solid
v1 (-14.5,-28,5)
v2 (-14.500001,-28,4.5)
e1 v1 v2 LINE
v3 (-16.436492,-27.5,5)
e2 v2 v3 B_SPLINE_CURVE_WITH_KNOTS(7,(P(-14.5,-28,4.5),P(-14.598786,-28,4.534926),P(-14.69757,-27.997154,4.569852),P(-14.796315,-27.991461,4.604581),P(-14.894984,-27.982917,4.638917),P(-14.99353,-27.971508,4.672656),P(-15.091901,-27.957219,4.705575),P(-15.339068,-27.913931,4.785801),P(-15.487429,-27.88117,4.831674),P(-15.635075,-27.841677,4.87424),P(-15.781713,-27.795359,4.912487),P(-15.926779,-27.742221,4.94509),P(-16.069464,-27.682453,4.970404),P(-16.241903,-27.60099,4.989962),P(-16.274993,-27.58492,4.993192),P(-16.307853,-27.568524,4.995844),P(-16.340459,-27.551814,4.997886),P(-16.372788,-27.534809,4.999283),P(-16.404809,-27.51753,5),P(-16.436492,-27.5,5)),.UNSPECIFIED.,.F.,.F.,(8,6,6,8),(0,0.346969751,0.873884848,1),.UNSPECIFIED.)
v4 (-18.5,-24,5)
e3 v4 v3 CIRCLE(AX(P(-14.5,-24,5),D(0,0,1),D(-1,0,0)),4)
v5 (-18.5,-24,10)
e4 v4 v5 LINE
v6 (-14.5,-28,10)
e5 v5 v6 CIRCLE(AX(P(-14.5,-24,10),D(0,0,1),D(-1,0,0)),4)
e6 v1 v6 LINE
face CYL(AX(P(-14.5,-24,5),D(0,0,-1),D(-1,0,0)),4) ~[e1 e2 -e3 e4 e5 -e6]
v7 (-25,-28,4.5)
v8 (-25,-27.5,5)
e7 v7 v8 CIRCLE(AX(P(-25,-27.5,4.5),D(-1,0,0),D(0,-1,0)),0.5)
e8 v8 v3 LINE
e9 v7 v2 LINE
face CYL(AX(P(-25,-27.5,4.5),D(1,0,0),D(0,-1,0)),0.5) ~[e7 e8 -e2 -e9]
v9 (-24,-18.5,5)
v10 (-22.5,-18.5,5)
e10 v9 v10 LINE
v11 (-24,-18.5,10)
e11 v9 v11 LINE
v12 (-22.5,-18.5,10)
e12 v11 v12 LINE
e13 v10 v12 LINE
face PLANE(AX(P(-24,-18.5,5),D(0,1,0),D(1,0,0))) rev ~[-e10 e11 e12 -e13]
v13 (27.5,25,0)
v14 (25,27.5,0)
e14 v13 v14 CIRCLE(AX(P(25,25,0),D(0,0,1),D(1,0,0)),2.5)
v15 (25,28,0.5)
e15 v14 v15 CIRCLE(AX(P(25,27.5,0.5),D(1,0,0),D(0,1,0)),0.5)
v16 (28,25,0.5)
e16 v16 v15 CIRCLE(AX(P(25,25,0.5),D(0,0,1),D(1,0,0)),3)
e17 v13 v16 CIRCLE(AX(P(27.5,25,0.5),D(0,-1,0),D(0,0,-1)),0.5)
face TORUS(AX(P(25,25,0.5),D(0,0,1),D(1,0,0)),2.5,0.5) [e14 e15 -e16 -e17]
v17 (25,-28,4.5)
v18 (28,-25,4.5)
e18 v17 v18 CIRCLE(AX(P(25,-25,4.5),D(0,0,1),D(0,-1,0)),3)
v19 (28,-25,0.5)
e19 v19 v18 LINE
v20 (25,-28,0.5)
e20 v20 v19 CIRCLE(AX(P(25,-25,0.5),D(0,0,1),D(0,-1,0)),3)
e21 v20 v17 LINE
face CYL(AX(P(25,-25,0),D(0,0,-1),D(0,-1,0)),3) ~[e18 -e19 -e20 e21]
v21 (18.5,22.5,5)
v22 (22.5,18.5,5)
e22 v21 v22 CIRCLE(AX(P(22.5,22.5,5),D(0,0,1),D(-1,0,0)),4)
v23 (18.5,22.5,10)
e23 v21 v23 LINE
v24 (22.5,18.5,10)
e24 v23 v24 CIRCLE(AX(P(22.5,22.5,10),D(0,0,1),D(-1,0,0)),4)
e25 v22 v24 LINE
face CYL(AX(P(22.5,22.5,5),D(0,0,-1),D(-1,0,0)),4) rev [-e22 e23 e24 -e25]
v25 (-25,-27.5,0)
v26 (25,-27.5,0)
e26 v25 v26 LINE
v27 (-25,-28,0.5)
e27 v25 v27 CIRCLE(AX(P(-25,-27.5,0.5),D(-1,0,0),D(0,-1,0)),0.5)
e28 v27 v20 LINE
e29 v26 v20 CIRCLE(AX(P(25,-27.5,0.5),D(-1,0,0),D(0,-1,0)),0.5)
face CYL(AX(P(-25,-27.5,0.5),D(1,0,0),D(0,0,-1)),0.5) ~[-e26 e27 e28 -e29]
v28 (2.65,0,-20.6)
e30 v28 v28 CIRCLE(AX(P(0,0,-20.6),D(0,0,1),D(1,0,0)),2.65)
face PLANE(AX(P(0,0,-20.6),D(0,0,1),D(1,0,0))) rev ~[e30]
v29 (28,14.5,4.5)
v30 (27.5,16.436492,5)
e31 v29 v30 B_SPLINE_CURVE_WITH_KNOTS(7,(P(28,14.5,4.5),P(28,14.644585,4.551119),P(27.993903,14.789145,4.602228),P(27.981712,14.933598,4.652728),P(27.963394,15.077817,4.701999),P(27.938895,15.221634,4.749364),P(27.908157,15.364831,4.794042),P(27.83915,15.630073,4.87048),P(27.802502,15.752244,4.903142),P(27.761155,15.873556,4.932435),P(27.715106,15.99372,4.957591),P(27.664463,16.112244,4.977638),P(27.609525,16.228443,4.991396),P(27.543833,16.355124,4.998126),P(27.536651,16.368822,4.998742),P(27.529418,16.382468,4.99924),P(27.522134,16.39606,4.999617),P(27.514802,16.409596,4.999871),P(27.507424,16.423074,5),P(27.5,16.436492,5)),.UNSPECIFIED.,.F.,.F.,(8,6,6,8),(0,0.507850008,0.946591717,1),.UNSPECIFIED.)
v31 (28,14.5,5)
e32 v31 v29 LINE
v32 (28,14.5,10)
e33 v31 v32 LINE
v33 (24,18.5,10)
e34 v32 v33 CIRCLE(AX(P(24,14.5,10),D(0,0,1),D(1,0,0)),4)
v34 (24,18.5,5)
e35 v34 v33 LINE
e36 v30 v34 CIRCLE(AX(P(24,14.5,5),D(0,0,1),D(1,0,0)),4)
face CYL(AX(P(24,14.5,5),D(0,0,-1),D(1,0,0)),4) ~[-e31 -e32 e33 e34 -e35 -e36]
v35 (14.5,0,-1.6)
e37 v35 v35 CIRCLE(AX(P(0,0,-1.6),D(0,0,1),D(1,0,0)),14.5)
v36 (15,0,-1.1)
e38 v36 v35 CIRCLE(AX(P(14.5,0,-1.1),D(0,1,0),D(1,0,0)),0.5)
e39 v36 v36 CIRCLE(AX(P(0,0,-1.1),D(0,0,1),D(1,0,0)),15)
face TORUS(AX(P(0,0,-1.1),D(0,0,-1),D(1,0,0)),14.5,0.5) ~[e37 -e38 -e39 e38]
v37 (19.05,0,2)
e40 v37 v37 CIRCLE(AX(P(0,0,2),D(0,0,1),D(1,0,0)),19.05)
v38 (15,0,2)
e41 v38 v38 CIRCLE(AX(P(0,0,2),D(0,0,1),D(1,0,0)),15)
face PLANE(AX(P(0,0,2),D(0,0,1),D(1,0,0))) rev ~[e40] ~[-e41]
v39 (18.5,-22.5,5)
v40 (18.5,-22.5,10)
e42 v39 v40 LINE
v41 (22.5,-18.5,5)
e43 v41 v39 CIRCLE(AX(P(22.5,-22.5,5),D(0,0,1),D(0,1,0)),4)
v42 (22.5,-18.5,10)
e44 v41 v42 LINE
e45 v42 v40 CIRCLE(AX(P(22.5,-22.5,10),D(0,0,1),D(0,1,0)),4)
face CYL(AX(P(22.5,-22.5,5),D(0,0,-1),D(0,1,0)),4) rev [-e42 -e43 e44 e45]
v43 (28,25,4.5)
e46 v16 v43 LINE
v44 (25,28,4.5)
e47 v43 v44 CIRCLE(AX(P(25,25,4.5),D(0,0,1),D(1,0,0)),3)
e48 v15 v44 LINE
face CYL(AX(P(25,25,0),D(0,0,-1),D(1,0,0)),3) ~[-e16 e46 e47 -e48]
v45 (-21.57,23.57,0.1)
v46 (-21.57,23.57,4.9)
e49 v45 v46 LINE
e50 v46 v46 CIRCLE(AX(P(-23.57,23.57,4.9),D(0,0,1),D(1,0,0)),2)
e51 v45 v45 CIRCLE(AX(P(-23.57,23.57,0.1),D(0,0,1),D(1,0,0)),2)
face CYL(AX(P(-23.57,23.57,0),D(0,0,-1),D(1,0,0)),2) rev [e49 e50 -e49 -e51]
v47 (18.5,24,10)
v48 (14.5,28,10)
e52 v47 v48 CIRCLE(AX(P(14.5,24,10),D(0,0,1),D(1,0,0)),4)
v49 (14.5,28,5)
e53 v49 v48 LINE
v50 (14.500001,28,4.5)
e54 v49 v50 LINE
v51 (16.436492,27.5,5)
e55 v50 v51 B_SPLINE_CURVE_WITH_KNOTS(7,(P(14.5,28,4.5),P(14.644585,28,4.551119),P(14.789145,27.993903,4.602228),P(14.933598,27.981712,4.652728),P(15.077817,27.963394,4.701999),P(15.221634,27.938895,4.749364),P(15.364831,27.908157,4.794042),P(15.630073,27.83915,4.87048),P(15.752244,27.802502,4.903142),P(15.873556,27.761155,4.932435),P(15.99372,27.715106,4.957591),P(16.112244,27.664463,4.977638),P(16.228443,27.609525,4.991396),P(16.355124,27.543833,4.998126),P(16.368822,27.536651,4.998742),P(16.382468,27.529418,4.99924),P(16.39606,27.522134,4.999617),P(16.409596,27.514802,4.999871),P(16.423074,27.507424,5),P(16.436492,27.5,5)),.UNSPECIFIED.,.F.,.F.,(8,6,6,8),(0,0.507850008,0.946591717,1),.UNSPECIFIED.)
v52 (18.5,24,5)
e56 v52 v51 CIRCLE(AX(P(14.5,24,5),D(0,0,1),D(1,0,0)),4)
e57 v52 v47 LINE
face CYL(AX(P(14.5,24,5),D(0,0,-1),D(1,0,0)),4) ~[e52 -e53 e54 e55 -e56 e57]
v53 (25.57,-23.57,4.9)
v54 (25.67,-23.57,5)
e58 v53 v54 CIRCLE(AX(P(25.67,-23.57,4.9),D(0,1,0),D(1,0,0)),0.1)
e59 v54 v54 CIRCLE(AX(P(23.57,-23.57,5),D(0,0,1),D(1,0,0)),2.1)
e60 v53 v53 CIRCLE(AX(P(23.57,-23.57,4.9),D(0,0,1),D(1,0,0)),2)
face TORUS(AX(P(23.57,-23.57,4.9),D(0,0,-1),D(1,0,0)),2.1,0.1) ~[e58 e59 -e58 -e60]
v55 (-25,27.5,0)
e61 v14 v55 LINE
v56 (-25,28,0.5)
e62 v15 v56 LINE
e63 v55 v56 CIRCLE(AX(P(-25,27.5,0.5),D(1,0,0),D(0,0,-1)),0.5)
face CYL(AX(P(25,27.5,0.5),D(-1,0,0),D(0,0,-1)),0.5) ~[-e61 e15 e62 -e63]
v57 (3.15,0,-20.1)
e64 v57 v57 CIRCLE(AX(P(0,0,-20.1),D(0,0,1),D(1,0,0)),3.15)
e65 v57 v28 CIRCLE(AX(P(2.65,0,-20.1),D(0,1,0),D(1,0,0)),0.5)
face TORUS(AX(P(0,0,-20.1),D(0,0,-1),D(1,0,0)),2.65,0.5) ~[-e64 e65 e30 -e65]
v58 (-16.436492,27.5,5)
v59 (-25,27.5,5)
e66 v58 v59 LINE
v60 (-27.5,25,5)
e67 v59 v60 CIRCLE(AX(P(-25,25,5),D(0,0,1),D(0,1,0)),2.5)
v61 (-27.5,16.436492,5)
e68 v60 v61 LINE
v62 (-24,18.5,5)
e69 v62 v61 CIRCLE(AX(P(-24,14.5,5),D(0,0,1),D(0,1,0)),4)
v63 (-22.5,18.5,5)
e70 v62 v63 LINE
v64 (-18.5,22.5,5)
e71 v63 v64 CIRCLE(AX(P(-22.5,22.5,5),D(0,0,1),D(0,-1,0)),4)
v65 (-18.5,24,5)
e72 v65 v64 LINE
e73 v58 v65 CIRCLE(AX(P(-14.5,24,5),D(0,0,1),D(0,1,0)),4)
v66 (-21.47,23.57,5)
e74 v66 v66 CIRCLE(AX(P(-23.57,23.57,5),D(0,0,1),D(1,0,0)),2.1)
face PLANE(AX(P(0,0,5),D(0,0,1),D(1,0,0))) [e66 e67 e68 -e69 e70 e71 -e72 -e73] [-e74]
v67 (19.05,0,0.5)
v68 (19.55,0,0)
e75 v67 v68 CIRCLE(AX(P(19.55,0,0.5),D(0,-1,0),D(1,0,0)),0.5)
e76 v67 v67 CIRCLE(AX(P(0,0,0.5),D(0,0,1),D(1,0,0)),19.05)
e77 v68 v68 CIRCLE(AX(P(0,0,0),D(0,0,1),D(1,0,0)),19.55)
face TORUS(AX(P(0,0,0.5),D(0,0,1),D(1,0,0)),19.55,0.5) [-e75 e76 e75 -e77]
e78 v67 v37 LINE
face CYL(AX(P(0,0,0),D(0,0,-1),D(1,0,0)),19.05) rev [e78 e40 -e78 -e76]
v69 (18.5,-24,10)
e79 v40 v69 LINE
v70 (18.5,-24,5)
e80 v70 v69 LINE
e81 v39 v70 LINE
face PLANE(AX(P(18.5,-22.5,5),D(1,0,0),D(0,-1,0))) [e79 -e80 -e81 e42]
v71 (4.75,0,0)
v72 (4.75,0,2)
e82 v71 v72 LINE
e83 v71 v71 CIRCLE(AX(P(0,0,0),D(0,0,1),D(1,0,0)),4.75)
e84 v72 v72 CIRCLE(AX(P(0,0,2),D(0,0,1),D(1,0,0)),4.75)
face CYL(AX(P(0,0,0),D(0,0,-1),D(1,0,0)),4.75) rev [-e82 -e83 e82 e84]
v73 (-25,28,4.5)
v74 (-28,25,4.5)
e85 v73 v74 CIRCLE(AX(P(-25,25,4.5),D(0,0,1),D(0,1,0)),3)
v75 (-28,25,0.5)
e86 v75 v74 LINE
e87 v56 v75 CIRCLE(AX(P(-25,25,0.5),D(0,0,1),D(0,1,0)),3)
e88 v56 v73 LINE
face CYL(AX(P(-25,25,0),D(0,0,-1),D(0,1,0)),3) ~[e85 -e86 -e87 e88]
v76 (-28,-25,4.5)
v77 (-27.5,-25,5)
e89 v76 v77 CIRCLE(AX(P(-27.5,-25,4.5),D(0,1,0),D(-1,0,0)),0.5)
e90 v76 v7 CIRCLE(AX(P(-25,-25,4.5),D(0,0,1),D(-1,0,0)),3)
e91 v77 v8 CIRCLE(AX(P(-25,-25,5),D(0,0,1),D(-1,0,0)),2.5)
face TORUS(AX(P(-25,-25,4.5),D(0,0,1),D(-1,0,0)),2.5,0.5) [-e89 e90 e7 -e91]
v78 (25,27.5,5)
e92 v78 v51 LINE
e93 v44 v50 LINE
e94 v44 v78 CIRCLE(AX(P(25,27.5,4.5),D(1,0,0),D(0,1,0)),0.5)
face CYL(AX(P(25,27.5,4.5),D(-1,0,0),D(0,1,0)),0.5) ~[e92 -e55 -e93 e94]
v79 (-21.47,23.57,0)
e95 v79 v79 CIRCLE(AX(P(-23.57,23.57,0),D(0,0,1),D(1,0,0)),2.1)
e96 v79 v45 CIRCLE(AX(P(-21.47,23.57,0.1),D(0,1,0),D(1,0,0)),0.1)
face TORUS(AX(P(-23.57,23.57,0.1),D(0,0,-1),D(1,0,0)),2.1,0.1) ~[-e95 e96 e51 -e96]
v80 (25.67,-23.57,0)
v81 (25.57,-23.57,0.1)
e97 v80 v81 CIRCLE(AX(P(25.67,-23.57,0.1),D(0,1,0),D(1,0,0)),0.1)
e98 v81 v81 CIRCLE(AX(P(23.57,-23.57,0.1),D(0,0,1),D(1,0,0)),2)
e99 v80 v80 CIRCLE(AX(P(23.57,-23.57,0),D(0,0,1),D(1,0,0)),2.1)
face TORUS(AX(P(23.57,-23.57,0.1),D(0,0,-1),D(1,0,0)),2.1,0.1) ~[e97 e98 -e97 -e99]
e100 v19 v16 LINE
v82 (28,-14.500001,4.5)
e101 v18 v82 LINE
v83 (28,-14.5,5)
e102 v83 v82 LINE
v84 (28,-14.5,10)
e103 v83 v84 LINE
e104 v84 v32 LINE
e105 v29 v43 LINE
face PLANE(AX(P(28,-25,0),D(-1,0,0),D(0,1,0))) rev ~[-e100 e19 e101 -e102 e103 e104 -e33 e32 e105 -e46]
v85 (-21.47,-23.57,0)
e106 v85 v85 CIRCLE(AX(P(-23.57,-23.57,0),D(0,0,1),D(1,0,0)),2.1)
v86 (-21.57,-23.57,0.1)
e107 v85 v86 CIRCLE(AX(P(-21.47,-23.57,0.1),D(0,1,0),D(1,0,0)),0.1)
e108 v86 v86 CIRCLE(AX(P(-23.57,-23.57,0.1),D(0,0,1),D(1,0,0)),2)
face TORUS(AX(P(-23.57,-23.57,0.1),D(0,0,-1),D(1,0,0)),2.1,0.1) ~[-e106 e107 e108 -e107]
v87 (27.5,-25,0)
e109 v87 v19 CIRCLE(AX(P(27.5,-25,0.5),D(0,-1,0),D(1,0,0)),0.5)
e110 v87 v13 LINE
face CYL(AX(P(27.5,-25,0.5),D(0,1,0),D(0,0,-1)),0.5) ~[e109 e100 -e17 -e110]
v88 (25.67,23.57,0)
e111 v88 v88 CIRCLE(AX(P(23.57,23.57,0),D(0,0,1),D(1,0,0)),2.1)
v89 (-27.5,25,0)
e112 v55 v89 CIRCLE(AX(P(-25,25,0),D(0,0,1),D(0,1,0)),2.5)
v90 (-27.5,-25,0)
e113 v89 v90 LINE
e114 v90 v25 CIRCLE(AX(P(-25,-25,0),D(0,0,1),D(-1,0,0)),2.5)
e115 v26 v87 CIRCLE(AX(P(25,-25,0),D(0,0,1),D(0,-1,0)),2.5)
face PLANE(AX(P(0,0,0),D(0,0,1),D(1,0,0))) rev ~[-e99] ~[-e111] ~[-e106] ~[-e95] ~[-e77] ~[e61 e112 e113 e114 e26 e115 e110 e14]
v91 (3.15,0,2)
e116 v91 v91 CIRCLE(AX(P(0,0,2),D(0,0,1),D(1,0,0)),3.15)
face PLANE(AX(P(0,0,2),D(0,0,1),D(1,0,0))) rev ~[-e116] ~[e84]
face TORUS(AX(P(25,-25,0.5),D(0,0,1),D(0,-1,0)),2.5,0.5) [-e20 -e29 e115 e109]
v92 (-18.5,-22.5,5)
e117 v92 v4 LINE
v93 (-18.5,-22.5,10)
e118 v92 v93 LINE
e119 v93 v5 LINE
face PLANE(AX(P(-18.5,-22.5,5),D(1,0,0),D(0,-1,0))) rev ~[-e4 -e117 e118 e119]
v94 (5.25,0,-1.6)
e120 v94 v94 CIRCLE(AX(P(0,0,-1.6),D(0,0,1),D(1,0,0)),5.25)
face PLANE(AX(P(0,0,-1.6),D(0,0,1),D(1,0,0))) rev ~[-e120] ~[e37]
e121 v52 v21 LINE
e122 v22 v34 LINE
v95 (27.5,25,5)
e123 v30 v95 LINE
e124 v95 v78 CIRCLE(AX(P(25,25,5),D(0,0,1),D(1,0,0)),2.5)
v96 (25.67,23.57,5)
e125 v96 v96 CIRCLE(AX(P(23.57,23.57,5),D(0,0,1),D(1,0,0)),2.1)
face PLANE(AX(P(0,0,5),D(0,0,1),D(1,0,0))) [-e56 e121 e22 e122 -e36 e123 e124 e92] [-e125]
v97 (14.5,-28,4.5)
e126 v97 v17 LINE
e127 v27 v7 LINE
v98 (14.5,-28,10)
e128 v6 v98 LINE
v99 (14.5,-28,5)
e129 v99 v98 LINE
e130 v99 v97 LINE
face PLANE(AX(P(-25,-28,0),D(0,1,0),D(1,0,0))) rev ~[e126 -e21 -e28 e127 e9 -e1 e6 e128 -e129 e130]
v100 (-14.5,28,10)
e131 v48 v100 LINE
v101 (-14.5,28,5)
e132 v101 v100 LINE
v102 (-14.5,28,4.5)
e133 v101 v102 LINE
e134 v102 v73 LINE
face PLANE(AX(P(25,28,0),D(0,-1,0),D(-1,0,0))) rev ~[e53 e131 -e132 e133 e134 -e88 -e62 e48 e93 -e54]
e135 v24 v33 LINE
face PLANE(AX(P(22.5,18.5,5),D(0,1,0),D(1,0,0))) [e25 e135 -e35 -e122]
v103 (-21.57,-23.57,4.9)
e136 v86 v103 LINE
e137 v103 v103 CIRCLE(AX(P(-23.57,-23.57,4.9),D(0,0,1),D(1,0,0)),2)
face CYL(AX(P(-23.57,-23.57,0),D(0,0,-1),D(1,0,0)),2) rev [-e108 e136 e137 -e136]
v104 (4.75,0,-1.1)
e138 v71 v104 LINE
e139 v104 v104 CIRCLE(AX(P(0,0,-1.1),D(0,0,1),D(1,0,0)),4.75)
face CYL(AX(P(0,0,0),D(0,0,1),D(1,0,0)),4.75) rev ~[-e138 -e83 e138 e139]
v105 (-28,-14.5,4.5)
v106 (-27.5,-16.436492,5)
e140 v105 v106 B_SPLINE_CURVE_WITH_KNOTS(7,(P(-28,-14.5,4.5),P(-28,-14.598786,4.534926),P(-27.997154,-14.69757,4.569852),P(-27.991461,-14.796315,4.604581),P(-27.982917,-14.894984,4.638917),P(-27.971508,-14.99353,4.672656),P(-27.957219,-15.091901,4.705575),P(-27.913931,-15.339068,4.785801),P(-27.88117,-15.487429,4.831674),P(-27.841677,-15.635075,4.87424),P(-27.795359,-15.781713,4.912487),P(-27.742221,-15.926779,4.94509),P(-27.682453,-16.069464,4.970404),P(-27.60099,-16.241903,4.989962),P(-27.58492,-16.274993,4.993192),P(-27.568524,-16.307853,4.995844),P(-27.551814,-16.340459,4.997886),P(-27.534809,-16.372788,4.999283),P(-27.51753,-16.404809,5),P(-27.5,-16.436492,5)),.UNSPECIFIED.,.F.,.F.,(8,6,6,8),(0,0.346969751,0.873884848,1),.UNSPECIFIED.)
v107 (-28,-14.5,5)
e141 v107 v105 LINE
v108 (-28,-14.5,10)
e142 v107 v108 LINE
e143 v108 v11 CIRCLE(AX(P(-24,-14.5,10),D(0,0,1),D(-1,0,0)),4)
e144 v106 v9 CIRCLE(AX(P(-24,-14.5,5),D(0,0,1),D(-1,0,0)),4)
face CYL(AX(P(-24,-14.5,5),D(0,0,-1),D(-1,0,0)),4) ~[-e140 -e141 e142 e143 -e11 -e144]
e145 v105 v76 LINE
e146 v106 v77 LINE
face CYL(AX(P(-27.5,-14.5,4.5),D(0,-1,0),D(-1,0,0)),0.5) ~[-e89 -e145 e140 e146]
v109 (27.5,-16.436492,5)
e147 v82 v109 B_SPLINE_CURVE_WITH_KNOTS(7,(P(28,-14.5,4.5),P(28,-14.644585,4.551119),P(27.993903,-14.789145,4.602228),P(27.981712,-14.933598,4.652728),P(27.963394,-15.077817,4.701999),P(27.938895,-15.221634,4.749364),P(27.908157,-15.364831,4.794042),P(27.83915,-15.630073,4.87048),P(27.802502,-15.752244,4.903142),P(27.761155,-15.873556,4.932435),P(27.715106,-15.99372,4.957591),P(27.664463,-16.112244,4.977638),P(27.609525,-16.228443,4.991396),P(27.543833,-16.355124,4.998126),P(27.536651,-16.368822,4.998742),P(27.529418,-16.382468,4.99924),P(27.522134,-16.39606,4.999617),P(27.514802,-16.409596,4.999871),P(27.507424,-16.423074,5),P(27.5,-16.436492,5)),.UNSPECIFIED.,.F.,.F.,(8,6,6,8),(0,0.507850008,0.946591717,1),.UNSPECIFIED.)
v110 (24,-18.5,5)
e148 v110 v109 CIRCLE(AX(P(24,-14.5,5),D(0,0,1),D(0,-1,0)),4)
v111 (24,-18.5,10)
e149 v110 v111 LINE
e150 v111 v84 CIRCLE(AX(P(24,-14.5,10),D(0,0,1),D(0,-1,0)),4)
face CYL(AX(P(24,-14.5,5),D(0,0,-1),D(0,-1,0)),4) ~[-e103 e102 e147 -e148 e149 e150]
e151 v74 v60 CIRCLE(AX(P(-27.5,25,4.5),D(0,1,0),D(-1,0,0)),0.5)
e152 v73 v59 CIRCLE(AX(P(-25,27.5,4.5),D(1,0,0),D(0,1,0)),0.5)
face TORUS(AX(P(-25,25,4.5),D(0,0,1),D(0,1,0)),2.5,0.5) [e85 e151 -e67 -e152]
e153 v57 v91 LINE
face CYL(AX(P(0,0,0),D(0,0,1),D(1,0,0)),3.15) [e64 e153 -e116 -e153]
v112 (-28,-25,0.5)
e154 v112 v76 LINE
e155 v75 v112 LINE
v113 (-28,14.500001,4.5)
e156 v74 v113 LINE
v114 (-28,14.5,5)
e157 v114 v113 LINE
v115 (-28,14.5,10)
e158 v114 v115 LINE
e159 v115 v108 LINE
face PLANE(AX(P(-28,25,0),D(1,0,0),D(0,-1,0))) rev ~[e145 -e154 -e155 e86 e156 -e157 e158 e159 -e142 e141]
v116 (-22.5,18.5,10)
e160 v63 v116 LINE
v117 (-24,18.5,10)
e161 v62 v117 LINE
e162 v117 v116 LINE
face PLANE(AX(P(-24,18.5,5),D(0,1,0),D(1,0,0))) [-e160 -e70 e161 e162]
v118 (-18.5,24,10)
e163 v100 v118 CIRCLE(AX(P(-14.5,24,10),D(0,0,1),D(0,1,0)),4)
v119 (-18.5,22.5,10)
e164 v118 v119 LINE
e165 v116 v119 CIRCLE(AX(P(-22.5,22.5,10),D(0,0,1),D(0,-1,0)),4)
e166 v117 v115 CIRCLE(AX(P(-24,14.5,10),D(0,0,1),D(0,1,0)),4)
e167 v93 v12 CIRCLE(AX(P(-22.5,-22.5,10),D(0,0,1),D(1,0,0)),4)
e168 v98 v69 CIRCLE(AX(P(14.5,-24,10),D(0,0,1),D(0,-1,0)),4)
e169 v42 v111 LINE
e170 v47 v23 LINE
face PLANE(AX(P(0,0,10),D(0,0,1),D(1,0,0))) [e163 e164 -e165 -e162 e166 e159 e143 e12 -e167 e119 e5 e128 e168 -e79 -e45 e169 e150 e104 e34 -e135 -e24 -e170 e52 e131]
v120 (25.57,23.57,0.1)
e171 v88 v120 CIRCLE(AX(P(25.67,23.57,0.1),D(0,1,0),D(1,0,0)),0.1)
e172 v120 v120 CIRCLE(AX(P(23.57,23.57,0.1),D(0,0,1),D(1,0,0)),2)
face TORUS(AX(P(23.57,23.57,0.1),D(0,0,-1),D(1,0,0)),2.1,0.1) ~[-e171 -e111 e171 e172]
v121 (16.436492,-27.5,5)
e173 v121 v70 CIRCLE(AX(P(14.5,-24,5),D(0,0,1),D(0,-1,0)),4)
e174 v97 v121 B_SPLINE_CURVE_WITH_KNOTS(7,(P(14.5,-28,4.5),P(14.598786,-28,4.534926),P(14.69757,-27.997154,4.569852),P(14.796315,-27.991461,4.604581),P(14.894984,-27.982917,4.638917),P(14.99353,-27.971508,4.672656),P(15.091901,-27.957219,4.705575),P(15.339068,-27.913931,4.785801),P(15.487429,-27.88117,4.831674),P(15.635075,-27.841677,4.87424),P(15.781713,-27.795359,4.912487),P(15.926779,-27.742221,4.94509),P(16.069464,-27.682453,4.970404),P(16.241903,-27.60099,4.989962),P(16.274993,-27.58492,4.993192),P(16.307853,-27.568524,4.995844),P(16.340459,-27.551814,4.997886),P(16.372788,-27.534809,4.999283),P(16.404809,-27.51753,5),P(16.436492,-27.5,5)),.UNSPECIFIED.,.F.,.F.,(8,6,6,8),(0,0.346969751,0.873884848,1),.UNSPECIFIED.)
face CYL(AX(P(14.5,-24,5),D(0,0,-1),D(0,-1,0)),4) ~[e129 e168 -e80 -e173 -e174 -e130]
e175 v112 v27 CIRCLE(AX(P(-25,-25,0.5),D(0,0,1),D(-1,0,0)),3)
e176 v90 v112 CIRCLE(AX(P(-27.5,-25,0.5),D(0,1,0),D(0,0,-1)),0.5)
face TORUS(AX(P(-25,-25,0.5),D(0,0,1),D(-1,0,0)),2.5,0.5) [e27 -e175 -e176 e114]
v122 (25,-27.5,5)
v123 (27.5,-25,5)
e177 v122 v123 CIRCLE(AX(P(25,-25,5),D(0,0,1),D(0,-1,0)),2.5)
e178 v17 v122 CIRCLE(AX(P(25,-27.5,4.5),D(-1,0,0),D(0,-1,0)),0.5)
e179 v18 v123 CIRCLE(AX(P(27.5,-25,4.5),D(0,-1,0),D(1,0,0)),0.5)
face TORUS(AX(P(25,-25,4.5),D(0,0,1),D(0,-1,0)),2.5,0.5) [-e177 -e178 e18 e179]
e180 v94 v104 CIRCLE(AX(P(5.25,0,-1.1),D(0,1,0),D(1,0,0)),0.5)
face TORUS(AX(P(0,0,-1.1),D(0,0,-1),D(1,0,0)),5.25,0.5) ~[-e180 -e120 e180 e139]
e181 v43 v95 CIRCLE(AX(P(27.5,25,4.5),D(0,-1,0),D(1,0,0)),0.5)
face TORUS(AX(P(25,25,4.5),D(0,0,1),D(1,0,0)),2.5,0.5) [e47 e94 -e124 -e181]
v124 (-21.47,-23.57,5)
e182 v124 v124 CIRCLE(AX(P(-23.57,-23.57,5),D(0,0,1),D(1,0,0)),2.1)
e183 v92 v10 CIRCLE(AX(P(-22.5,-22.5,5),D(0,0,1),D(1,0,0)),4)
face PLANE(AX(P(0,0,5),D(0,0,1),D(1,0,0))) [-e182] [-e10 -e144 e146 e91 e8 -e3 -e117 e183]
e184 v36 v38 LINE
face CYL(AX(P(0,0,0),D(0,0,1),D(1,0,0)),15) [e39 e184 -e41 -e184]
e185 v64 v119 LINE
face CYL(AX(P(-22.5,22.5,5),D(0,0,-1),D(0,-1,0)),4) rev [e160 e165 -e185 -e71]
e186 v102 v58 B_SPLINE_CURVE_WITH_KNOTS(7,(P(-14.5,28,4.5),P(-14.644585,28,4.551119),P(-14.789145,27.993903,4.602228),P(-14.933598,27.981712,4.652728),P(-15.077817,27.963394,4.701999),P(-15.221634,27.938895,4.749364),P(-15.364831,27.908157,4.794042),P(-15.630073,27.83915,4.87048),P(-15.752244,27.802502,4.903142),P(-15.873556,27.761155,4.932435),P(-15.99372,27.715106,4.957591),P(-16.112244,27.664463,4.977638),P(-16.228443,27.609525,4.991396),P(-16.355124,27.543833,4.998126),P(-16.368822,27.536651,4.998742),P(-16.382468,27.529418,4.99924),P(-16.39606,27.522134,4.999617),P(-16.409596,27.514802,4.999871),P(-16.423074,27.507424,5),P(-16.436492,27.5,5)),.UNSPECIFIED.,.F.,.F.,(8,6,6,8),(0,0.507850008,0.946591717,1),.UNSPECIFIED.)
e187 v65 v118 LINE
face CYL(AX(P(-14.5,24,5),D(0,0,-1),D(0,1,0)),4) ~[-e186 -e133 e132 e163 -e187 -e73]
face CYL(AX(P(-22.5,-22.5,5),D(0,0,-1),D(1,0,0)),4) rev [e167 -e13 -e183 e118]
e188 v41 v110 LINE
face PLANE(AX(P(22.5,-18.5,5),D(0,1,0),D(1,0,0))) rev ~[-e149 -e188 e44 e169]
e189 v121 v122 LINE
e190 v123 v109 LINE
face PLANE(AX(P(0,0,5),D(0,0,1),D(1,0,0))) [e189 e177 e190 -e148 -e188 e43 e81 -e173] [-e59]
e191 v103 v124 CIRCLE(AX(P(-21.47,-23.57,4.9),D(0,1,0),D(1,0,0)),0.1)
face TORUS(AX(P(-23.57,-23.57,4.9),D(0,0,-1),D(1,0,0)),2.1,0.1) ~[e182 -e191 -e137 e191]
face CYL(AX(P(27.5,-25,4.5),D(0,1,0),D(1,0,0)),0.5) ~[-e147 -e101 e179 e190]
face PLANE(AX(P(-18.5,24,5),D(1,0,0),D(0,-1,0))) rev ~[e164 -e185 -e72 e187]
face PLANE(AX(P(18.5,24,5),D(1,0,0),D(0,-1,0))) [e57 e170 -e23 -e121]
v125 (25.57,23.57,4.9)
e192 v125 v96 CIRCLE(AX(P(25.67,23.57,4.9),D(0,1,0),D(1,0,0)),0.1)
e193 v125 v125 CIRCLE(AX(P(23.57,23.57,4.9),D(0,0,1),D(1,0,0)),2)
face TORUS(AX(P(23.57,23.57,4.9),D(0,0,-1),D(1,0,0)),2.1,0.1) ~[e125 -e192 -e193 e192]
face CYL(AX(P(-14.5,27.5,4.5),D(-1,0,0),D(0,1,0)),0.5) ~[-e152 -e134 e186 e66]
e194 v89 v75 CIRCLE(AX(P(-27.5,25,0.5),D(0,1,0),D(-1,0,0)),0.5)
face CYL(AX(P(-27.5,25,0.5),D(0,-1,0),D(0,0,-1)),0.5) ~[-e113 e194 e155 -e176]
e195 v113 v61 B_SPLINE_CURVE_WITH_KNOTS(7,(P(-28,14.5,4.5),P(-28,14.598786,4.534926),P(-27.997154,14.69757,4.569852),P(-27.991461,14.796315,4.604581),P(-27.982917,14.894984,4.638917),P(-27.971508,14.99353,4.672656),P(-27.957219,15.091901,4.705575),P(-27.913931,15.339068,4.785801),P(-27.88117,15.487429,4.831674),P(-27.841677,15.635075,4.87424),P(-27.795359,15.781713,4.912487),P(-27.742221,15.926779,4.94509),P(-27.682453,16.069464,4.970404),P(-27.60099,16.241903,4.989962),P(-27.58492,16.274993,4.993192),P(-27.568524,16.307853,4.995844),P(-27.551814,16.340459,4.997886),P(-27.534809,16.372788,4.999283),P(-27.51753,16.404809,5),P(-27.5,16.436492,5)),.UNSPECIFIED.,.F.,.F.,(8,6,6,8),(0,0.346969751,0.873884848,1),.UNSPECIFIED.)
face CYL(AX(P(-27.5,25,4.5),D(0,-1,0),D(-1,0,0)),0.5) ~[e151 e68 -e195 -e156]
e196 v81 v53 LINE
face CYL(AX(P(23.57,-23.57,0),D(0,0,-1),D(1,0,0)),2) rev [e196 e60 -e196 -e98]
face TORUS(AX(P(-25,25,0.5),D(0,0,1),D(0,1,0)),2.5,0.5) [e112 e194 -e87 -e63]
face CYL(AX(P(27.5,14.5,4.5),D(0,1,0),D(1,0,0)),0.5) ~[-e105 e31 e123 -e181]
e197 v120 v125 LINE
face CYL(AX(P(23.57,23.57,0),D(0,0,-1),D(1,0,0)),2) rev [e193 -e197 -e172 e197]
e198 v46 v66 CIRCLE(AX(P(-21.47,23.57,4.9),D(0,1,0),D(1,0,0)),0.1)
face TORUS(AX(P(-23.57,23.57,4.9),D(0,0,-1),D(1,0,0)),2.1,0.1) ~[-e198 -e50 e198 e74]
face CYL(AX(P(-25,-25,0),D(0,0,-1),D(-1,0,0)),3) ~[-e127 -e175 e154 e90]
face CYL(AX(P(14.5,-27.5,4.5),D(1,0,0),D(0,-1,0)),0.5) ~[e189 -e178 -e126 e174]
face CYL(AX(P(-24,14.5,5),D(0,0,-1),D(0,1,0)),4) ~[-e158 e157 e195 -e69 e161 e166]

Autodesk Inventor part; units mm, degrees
ref_plane "YZ Plane" through (0, 0, 0) normal (1, 0, 0) x (0, 1, 0)
ref_plane "XZ Plane" through (0, 0, 0) normal (0, 1, 0) x (-1, 0, 0)
ref_plane "XY Plane" through (0, 0, 0) normal (0, 0, 1) x (1, 0, 0)
sketch "Sketch1" plane through (0, 0, 0) normal (0, 0, 1) x (1, 0, 0)
  line L0 (28, 0) -> (28, 25)
  line L1 (25, 28) -> (-25, 28)
  line L2 (-28, 25) -> (-28, -25)
  line L3 (-25, -28) -> (25, -28)
  line L4 (28, -25) -> (28, 0)
  circle A0 centre (23.57, 23.57) radius 2
  circle A1 centre (23.57, -23.57) radius 2
  circle A2 centre (-23.57, -23.57) radius 2
  circle A3 centre (-23.57, 23.57) radius 2
  circle A4 centre (0, 0) radius 4.75
  circle A5 centre (0, 0) radius 15
  circle A6 centre (0, 0) radius 19.05
  arc A7 (-25, 28) -> (-28, 25) centre (-25, 25) ccw
  arc A8 (-28, -25) -> (-25, -28) centre (-25, -25) ccw
  arc A9 (25, -28) -> (28, -25) centre (25, -25) ccw
  arc A10 (28, 25) -> (25, 28) centre (25, 25) ccw
  circle A11 centre (0, 0) radius 3.15
  point P0 (28, 28)
  point P1 (-28, 28)
  point P2 (-28, -28)
  point P3 (28, -28)
  dimension "d1" = 28
  dimension "d2" = 56
  dimension "d3" = 56
  dimension "d4" = 56
  dimension "d6" = 4
  dimension "d7" = 4
  dimension "d8" = 4
  dimension "d9" = 4
  dimension "d10" = 9.5
  dimension "d11" = 30
  dimension "d12" = 38.1
  dimension "d13" = 3
  dimension "d25" = 6.3
extrude "Extrusion1" add sketch "Sketch1" along normal blind 5 contours L4 A9 L3 A8 L2 A7 L1 A10 L0 | A4 | A5 | A6 | A11
extrude "Extrusion2" cut sketch "Sketch1" along normal blind 2 contours A4 | A6
sketch "Sketch2" plane through (0, 0, 5) normal (0, 0, 1) x (1, 0, 0)
  arc A0 (28, 25) -> (25, 28) centre (25, 25) ccw projected
  line L0 (25, 28) -> (-25, 28) projected
  arc A1 (-25, 28) -> (-28, 25) centre (-25, 25) ccw projected
  line L1 (-28, 25) -> (-28, -25) projected
  arc A2 (-28, -25) -> (-25, -28) centre (-25, -25) ccw projected
  line L2 (-25, -28) -> (25, -28) projected
  arc A3 (25, -28) -> (28, -25) centre (25, -25) ccw projected
  line L3 (28, -25) -> (28, 25) projected
  circle A4 centre (-23.57, 23.57) radius 2 projected
  circle A5 centre (-23.57, -23.57) radius 2 projected
  circle A6 centre (23.57, -23.57) radius 2 projected
  circle A7 centre (23.57, 23.57) radius 2 projected
  line L4 (-28, 0) -> (-28, 14.5)
  line L5 (-28, 25) -> (-28, -25) projected
  line L6 (-28, 0) -> (-28, -14.5)
  line L7 (25, 28) -> (-25, 28) projected
  line L8 (-25, -28) -> (25, -28) projected
  line L9 (-14.5, 28) -> (14.5, 28)
  line L10 (28, 14.5) -> (28, -14.5)
  line L11 (28, -25) -> (28, 25) projected
  line L12 (14.5, -28) -> (-14.5, -28)
  line L13 (-24, 18.5) -> (-22.5, 18.5)
  line L14 (22.5, 18.5) -> (24, 18.5)
  line L15 (-18.5, 24) -> (-18.5, 22.5)
  line L16 (-18.5, -22.5) -> (-18.5, -24)
  line L17 (18.5, 24) -> (18.5, 22.5)
  line L18 (18.5, -22.5) -> (18.5, -24)
  line L19 (-24, -18.5) -> (-22.5, -18.5)
  line L20 (22.5, -18.5) -> (24, -18.5)
  arc A8 (-14.5, 28) -> (-18.5, 24) centre (-14.5, 24) ccw
  arc A9 (-22.5, 18.5) -> (-18.5, 22.5) centre (-22.5, 22.5) ccw
  arc A10 (-24, 18.5) -> (-28, 14.5) centre (-24, 14.5) ccw
  arc A11 (-28, -14.5) -> (-24, -18.5) centre (-24, -14.5) ccw
  arc A12 (-18.5, -22.5) -> (-22.5, -18.5) centre (-22.5, -22.5) ccw
  arc A13 (-18.5, -24) -> (-14.5, -28) centre (-14.5, -24) ccw
  arc A14 (14.5, -28) -> (18.5, -24) centre (14.5, -24) ccw
  arc A15 (22.5, -18.5) -> (18.5, -22.5) centre (22.5, -22.5) ccw
  arc A16 (24, -18.5) -> (28, -14.5) centre (24, -14.5) ccw
  arc A17 (18.5, 24) -> (14.5, 28) centre (14.5, 24) ccw
  arc A18 (18.5, 22.5) -> (22.5, 18.5) centre (22.5, 22.5) ccw
  arc A19 (28, 14.5) -> (24, 18.5) centre (24, 14.5) ccw
  point P0 (0, 0)
  point P1 (-28, 18.5)
  point P2 (28, 18.5)
  point P3 (-28, -18.5)
  point P4 (28, -18.5)
  point P5 (18.5, 28)
  point P6 (18.5, -28)
  point P7 (-18.5, 28)
  point P8 (-18.5, -28)
  dimension "d18" = 18.5
  dimension "d19" = 18.5
  dimension "d22" = 4
extrude "Extrusion3" add sketch "Sketch2" along normal blind 5 contours L3 A16 L20 A15 L18 A14 L2 A13 L16 A12 L19 A11 L1 A10 L13 A9 L15 A8 L0 A17 L17 A18 L14 A19
extrude "Extrusion4" add sketch "Sketch1" against normal blind 20.6 contours A11
sketch "Sketch3" plane through (0, 0, 10) normal (0, 0, 1) x (1, 0, 0)
  arc A0 (-24, 18.5) -> (-28, 14.5) centre (-24, 14.5) ccw projected
  line L0 (-28, 14.5) -> (-28, -14.5) projected
  arc A1 (-28, -14.5) -> (-24, -18.5) centre (-24, -14.5) ccw projected
  line L1 (-24, -18.5) -> (-22.5, -18.5) projected
  arc A2 (-18.5, -22.5) -> (-22.5, -18.5) centre (-22.5, -22.5) ccw projected
  line L2 (-18.5, -22.5) -> (-18.5, -24) projected
  arc A3 (-18.5, -24) -> (-14.5, -28) centre (-14.5, -24) ccw projected
  line L3 (-14.5, -28) -> (14.5, -28) projected
  arc A4 (14.5, -28) -> (18.5, -24) centre (14.5, -24) ccw projected
  line L4 (18.5, -24) -> (18.5, -22.5) projected
  arc A5 (22.5, -18.5) -> (18.5, -22.5) centre (22.5, -22.5) ccw projected
  line L5 (22.5, -18.5) -> (24, -18.5) projected
  arc A6 (24, -18.5) -> (28, -14.5) centre (24, -14.5) ccw projected
  line L6 (28, -14.5) -> (28, 14.5) projected
  arc A7 (28, 14.5) -> (24, 18.5) centre (24, 14.5) ccw projected
  line L7 (24, 18.5) -> (22.5, 18.5) projected
  arc A8 (18.5, 22.5) -> (22.5, 18.5) centre (22.5, 22.5) ccw projected
  line L8 (18.5, 22.5) -> (18.5, 24) projected
  arc A9 (18.5, 24) -> (14.5, 28) centre (14.5, 24) ccw projected
  line L9 (14.5, 28) -> (-14.5, 28) projected
  arc A10 (-14.5, 28) -> (-18.5, 24) centre (-14.5, 24) ccw projected
  line L10 (-18.5, 24) -> (-18.5, 22.5) projected
  arc A11 (-22.5, 18.5) -> (-18.5, 22.5) centre (-22.5, 22.5) ccw projected
  line L11 (-22.5, 18.5) -> (-24, 18.5) projected
  point P0 (0, 0)
extrude "Extrusion5" add sketch "Sketch1" against normal blind 1.6 contours A5
fillet "Fillet1" radius 0.5 23 edges at (27.1213, -27.1213, 0) (28, 0, 0) (27.1213, 27.1213, 0) (0, 28, 0) (-27.1213, 27.1213, 0) (-28, 0, 0) (-27.1213, -27.1213, 0) (0, -28, 0) (-19.05, 0, 0) (-15, 0, -1.6) (-3.15, 0, -20.6) (27.1213, 27.1213, 5) (19.75, 28, 5) (28, 19.75, 5) (-27.1213, 27.1213, 5) (-28, 19.75, 5) (-19.75, 28, 5) (-19.75, -28, 5) (-28, -19.75, 5) (-27.1213, -27.1213, 5) (27.1213, -27.1213, 5) (19.75, -28, 5) (-4.75, 0, -1.6)
fillet "Fillet2" radius 0.1 8 edges at (21.57, -23.57, 0) (21.57, 23.57, 0) (-25.57, 23.57, 0) (-25.57, -23.57, 0) (-25.57, 23.57, 5) (21.57, 23.57, 5) (21.57, -23.57, 5) (-25.57, -23.57, 5)
sketch "Sketch4" plane through (0, 0, 0) normal (0, 0, -1) x (-1, 0, 0)
  circle A0 centre (23.57, 23.57) radius 2.1 projected
  circle A1 centre (-23.57, -23.57) radius 2.1 projected
  arc A2 (-27.5, -25) -> (-25, -27.5) centre (-25, -25) ccw projected
  line L0 (25, -27.5) -> (-25, -27.5) projected
  arc A3 (25, -27.5) -> (27.5, -25) centre (25, -25) ccw projected
  line L1 (27.5, 25) -> (27.5, -25) projected
  arc A4 (27.5, 25) -> (25, 27.5) centre (25, 25) ccw projected
  line L2 (-25, 27.5) -> (25, 27.5) projected
  arc A5 (-25, 27.5) -> (-27.5, 25) centre (-25, 25) ccw projected
  line L3 (-27.5, -25) -> (-27.5, 25) projected
  circle A6 centre (0, 0) radius 19.55 projected
  circle A7 centre (-23.57, 23.57) radius 2.1 projected
  circle A8 centre (23.57, -23.57) radius 2.1 projected
properties part number "SERVO  KH56KM2U121 A"
